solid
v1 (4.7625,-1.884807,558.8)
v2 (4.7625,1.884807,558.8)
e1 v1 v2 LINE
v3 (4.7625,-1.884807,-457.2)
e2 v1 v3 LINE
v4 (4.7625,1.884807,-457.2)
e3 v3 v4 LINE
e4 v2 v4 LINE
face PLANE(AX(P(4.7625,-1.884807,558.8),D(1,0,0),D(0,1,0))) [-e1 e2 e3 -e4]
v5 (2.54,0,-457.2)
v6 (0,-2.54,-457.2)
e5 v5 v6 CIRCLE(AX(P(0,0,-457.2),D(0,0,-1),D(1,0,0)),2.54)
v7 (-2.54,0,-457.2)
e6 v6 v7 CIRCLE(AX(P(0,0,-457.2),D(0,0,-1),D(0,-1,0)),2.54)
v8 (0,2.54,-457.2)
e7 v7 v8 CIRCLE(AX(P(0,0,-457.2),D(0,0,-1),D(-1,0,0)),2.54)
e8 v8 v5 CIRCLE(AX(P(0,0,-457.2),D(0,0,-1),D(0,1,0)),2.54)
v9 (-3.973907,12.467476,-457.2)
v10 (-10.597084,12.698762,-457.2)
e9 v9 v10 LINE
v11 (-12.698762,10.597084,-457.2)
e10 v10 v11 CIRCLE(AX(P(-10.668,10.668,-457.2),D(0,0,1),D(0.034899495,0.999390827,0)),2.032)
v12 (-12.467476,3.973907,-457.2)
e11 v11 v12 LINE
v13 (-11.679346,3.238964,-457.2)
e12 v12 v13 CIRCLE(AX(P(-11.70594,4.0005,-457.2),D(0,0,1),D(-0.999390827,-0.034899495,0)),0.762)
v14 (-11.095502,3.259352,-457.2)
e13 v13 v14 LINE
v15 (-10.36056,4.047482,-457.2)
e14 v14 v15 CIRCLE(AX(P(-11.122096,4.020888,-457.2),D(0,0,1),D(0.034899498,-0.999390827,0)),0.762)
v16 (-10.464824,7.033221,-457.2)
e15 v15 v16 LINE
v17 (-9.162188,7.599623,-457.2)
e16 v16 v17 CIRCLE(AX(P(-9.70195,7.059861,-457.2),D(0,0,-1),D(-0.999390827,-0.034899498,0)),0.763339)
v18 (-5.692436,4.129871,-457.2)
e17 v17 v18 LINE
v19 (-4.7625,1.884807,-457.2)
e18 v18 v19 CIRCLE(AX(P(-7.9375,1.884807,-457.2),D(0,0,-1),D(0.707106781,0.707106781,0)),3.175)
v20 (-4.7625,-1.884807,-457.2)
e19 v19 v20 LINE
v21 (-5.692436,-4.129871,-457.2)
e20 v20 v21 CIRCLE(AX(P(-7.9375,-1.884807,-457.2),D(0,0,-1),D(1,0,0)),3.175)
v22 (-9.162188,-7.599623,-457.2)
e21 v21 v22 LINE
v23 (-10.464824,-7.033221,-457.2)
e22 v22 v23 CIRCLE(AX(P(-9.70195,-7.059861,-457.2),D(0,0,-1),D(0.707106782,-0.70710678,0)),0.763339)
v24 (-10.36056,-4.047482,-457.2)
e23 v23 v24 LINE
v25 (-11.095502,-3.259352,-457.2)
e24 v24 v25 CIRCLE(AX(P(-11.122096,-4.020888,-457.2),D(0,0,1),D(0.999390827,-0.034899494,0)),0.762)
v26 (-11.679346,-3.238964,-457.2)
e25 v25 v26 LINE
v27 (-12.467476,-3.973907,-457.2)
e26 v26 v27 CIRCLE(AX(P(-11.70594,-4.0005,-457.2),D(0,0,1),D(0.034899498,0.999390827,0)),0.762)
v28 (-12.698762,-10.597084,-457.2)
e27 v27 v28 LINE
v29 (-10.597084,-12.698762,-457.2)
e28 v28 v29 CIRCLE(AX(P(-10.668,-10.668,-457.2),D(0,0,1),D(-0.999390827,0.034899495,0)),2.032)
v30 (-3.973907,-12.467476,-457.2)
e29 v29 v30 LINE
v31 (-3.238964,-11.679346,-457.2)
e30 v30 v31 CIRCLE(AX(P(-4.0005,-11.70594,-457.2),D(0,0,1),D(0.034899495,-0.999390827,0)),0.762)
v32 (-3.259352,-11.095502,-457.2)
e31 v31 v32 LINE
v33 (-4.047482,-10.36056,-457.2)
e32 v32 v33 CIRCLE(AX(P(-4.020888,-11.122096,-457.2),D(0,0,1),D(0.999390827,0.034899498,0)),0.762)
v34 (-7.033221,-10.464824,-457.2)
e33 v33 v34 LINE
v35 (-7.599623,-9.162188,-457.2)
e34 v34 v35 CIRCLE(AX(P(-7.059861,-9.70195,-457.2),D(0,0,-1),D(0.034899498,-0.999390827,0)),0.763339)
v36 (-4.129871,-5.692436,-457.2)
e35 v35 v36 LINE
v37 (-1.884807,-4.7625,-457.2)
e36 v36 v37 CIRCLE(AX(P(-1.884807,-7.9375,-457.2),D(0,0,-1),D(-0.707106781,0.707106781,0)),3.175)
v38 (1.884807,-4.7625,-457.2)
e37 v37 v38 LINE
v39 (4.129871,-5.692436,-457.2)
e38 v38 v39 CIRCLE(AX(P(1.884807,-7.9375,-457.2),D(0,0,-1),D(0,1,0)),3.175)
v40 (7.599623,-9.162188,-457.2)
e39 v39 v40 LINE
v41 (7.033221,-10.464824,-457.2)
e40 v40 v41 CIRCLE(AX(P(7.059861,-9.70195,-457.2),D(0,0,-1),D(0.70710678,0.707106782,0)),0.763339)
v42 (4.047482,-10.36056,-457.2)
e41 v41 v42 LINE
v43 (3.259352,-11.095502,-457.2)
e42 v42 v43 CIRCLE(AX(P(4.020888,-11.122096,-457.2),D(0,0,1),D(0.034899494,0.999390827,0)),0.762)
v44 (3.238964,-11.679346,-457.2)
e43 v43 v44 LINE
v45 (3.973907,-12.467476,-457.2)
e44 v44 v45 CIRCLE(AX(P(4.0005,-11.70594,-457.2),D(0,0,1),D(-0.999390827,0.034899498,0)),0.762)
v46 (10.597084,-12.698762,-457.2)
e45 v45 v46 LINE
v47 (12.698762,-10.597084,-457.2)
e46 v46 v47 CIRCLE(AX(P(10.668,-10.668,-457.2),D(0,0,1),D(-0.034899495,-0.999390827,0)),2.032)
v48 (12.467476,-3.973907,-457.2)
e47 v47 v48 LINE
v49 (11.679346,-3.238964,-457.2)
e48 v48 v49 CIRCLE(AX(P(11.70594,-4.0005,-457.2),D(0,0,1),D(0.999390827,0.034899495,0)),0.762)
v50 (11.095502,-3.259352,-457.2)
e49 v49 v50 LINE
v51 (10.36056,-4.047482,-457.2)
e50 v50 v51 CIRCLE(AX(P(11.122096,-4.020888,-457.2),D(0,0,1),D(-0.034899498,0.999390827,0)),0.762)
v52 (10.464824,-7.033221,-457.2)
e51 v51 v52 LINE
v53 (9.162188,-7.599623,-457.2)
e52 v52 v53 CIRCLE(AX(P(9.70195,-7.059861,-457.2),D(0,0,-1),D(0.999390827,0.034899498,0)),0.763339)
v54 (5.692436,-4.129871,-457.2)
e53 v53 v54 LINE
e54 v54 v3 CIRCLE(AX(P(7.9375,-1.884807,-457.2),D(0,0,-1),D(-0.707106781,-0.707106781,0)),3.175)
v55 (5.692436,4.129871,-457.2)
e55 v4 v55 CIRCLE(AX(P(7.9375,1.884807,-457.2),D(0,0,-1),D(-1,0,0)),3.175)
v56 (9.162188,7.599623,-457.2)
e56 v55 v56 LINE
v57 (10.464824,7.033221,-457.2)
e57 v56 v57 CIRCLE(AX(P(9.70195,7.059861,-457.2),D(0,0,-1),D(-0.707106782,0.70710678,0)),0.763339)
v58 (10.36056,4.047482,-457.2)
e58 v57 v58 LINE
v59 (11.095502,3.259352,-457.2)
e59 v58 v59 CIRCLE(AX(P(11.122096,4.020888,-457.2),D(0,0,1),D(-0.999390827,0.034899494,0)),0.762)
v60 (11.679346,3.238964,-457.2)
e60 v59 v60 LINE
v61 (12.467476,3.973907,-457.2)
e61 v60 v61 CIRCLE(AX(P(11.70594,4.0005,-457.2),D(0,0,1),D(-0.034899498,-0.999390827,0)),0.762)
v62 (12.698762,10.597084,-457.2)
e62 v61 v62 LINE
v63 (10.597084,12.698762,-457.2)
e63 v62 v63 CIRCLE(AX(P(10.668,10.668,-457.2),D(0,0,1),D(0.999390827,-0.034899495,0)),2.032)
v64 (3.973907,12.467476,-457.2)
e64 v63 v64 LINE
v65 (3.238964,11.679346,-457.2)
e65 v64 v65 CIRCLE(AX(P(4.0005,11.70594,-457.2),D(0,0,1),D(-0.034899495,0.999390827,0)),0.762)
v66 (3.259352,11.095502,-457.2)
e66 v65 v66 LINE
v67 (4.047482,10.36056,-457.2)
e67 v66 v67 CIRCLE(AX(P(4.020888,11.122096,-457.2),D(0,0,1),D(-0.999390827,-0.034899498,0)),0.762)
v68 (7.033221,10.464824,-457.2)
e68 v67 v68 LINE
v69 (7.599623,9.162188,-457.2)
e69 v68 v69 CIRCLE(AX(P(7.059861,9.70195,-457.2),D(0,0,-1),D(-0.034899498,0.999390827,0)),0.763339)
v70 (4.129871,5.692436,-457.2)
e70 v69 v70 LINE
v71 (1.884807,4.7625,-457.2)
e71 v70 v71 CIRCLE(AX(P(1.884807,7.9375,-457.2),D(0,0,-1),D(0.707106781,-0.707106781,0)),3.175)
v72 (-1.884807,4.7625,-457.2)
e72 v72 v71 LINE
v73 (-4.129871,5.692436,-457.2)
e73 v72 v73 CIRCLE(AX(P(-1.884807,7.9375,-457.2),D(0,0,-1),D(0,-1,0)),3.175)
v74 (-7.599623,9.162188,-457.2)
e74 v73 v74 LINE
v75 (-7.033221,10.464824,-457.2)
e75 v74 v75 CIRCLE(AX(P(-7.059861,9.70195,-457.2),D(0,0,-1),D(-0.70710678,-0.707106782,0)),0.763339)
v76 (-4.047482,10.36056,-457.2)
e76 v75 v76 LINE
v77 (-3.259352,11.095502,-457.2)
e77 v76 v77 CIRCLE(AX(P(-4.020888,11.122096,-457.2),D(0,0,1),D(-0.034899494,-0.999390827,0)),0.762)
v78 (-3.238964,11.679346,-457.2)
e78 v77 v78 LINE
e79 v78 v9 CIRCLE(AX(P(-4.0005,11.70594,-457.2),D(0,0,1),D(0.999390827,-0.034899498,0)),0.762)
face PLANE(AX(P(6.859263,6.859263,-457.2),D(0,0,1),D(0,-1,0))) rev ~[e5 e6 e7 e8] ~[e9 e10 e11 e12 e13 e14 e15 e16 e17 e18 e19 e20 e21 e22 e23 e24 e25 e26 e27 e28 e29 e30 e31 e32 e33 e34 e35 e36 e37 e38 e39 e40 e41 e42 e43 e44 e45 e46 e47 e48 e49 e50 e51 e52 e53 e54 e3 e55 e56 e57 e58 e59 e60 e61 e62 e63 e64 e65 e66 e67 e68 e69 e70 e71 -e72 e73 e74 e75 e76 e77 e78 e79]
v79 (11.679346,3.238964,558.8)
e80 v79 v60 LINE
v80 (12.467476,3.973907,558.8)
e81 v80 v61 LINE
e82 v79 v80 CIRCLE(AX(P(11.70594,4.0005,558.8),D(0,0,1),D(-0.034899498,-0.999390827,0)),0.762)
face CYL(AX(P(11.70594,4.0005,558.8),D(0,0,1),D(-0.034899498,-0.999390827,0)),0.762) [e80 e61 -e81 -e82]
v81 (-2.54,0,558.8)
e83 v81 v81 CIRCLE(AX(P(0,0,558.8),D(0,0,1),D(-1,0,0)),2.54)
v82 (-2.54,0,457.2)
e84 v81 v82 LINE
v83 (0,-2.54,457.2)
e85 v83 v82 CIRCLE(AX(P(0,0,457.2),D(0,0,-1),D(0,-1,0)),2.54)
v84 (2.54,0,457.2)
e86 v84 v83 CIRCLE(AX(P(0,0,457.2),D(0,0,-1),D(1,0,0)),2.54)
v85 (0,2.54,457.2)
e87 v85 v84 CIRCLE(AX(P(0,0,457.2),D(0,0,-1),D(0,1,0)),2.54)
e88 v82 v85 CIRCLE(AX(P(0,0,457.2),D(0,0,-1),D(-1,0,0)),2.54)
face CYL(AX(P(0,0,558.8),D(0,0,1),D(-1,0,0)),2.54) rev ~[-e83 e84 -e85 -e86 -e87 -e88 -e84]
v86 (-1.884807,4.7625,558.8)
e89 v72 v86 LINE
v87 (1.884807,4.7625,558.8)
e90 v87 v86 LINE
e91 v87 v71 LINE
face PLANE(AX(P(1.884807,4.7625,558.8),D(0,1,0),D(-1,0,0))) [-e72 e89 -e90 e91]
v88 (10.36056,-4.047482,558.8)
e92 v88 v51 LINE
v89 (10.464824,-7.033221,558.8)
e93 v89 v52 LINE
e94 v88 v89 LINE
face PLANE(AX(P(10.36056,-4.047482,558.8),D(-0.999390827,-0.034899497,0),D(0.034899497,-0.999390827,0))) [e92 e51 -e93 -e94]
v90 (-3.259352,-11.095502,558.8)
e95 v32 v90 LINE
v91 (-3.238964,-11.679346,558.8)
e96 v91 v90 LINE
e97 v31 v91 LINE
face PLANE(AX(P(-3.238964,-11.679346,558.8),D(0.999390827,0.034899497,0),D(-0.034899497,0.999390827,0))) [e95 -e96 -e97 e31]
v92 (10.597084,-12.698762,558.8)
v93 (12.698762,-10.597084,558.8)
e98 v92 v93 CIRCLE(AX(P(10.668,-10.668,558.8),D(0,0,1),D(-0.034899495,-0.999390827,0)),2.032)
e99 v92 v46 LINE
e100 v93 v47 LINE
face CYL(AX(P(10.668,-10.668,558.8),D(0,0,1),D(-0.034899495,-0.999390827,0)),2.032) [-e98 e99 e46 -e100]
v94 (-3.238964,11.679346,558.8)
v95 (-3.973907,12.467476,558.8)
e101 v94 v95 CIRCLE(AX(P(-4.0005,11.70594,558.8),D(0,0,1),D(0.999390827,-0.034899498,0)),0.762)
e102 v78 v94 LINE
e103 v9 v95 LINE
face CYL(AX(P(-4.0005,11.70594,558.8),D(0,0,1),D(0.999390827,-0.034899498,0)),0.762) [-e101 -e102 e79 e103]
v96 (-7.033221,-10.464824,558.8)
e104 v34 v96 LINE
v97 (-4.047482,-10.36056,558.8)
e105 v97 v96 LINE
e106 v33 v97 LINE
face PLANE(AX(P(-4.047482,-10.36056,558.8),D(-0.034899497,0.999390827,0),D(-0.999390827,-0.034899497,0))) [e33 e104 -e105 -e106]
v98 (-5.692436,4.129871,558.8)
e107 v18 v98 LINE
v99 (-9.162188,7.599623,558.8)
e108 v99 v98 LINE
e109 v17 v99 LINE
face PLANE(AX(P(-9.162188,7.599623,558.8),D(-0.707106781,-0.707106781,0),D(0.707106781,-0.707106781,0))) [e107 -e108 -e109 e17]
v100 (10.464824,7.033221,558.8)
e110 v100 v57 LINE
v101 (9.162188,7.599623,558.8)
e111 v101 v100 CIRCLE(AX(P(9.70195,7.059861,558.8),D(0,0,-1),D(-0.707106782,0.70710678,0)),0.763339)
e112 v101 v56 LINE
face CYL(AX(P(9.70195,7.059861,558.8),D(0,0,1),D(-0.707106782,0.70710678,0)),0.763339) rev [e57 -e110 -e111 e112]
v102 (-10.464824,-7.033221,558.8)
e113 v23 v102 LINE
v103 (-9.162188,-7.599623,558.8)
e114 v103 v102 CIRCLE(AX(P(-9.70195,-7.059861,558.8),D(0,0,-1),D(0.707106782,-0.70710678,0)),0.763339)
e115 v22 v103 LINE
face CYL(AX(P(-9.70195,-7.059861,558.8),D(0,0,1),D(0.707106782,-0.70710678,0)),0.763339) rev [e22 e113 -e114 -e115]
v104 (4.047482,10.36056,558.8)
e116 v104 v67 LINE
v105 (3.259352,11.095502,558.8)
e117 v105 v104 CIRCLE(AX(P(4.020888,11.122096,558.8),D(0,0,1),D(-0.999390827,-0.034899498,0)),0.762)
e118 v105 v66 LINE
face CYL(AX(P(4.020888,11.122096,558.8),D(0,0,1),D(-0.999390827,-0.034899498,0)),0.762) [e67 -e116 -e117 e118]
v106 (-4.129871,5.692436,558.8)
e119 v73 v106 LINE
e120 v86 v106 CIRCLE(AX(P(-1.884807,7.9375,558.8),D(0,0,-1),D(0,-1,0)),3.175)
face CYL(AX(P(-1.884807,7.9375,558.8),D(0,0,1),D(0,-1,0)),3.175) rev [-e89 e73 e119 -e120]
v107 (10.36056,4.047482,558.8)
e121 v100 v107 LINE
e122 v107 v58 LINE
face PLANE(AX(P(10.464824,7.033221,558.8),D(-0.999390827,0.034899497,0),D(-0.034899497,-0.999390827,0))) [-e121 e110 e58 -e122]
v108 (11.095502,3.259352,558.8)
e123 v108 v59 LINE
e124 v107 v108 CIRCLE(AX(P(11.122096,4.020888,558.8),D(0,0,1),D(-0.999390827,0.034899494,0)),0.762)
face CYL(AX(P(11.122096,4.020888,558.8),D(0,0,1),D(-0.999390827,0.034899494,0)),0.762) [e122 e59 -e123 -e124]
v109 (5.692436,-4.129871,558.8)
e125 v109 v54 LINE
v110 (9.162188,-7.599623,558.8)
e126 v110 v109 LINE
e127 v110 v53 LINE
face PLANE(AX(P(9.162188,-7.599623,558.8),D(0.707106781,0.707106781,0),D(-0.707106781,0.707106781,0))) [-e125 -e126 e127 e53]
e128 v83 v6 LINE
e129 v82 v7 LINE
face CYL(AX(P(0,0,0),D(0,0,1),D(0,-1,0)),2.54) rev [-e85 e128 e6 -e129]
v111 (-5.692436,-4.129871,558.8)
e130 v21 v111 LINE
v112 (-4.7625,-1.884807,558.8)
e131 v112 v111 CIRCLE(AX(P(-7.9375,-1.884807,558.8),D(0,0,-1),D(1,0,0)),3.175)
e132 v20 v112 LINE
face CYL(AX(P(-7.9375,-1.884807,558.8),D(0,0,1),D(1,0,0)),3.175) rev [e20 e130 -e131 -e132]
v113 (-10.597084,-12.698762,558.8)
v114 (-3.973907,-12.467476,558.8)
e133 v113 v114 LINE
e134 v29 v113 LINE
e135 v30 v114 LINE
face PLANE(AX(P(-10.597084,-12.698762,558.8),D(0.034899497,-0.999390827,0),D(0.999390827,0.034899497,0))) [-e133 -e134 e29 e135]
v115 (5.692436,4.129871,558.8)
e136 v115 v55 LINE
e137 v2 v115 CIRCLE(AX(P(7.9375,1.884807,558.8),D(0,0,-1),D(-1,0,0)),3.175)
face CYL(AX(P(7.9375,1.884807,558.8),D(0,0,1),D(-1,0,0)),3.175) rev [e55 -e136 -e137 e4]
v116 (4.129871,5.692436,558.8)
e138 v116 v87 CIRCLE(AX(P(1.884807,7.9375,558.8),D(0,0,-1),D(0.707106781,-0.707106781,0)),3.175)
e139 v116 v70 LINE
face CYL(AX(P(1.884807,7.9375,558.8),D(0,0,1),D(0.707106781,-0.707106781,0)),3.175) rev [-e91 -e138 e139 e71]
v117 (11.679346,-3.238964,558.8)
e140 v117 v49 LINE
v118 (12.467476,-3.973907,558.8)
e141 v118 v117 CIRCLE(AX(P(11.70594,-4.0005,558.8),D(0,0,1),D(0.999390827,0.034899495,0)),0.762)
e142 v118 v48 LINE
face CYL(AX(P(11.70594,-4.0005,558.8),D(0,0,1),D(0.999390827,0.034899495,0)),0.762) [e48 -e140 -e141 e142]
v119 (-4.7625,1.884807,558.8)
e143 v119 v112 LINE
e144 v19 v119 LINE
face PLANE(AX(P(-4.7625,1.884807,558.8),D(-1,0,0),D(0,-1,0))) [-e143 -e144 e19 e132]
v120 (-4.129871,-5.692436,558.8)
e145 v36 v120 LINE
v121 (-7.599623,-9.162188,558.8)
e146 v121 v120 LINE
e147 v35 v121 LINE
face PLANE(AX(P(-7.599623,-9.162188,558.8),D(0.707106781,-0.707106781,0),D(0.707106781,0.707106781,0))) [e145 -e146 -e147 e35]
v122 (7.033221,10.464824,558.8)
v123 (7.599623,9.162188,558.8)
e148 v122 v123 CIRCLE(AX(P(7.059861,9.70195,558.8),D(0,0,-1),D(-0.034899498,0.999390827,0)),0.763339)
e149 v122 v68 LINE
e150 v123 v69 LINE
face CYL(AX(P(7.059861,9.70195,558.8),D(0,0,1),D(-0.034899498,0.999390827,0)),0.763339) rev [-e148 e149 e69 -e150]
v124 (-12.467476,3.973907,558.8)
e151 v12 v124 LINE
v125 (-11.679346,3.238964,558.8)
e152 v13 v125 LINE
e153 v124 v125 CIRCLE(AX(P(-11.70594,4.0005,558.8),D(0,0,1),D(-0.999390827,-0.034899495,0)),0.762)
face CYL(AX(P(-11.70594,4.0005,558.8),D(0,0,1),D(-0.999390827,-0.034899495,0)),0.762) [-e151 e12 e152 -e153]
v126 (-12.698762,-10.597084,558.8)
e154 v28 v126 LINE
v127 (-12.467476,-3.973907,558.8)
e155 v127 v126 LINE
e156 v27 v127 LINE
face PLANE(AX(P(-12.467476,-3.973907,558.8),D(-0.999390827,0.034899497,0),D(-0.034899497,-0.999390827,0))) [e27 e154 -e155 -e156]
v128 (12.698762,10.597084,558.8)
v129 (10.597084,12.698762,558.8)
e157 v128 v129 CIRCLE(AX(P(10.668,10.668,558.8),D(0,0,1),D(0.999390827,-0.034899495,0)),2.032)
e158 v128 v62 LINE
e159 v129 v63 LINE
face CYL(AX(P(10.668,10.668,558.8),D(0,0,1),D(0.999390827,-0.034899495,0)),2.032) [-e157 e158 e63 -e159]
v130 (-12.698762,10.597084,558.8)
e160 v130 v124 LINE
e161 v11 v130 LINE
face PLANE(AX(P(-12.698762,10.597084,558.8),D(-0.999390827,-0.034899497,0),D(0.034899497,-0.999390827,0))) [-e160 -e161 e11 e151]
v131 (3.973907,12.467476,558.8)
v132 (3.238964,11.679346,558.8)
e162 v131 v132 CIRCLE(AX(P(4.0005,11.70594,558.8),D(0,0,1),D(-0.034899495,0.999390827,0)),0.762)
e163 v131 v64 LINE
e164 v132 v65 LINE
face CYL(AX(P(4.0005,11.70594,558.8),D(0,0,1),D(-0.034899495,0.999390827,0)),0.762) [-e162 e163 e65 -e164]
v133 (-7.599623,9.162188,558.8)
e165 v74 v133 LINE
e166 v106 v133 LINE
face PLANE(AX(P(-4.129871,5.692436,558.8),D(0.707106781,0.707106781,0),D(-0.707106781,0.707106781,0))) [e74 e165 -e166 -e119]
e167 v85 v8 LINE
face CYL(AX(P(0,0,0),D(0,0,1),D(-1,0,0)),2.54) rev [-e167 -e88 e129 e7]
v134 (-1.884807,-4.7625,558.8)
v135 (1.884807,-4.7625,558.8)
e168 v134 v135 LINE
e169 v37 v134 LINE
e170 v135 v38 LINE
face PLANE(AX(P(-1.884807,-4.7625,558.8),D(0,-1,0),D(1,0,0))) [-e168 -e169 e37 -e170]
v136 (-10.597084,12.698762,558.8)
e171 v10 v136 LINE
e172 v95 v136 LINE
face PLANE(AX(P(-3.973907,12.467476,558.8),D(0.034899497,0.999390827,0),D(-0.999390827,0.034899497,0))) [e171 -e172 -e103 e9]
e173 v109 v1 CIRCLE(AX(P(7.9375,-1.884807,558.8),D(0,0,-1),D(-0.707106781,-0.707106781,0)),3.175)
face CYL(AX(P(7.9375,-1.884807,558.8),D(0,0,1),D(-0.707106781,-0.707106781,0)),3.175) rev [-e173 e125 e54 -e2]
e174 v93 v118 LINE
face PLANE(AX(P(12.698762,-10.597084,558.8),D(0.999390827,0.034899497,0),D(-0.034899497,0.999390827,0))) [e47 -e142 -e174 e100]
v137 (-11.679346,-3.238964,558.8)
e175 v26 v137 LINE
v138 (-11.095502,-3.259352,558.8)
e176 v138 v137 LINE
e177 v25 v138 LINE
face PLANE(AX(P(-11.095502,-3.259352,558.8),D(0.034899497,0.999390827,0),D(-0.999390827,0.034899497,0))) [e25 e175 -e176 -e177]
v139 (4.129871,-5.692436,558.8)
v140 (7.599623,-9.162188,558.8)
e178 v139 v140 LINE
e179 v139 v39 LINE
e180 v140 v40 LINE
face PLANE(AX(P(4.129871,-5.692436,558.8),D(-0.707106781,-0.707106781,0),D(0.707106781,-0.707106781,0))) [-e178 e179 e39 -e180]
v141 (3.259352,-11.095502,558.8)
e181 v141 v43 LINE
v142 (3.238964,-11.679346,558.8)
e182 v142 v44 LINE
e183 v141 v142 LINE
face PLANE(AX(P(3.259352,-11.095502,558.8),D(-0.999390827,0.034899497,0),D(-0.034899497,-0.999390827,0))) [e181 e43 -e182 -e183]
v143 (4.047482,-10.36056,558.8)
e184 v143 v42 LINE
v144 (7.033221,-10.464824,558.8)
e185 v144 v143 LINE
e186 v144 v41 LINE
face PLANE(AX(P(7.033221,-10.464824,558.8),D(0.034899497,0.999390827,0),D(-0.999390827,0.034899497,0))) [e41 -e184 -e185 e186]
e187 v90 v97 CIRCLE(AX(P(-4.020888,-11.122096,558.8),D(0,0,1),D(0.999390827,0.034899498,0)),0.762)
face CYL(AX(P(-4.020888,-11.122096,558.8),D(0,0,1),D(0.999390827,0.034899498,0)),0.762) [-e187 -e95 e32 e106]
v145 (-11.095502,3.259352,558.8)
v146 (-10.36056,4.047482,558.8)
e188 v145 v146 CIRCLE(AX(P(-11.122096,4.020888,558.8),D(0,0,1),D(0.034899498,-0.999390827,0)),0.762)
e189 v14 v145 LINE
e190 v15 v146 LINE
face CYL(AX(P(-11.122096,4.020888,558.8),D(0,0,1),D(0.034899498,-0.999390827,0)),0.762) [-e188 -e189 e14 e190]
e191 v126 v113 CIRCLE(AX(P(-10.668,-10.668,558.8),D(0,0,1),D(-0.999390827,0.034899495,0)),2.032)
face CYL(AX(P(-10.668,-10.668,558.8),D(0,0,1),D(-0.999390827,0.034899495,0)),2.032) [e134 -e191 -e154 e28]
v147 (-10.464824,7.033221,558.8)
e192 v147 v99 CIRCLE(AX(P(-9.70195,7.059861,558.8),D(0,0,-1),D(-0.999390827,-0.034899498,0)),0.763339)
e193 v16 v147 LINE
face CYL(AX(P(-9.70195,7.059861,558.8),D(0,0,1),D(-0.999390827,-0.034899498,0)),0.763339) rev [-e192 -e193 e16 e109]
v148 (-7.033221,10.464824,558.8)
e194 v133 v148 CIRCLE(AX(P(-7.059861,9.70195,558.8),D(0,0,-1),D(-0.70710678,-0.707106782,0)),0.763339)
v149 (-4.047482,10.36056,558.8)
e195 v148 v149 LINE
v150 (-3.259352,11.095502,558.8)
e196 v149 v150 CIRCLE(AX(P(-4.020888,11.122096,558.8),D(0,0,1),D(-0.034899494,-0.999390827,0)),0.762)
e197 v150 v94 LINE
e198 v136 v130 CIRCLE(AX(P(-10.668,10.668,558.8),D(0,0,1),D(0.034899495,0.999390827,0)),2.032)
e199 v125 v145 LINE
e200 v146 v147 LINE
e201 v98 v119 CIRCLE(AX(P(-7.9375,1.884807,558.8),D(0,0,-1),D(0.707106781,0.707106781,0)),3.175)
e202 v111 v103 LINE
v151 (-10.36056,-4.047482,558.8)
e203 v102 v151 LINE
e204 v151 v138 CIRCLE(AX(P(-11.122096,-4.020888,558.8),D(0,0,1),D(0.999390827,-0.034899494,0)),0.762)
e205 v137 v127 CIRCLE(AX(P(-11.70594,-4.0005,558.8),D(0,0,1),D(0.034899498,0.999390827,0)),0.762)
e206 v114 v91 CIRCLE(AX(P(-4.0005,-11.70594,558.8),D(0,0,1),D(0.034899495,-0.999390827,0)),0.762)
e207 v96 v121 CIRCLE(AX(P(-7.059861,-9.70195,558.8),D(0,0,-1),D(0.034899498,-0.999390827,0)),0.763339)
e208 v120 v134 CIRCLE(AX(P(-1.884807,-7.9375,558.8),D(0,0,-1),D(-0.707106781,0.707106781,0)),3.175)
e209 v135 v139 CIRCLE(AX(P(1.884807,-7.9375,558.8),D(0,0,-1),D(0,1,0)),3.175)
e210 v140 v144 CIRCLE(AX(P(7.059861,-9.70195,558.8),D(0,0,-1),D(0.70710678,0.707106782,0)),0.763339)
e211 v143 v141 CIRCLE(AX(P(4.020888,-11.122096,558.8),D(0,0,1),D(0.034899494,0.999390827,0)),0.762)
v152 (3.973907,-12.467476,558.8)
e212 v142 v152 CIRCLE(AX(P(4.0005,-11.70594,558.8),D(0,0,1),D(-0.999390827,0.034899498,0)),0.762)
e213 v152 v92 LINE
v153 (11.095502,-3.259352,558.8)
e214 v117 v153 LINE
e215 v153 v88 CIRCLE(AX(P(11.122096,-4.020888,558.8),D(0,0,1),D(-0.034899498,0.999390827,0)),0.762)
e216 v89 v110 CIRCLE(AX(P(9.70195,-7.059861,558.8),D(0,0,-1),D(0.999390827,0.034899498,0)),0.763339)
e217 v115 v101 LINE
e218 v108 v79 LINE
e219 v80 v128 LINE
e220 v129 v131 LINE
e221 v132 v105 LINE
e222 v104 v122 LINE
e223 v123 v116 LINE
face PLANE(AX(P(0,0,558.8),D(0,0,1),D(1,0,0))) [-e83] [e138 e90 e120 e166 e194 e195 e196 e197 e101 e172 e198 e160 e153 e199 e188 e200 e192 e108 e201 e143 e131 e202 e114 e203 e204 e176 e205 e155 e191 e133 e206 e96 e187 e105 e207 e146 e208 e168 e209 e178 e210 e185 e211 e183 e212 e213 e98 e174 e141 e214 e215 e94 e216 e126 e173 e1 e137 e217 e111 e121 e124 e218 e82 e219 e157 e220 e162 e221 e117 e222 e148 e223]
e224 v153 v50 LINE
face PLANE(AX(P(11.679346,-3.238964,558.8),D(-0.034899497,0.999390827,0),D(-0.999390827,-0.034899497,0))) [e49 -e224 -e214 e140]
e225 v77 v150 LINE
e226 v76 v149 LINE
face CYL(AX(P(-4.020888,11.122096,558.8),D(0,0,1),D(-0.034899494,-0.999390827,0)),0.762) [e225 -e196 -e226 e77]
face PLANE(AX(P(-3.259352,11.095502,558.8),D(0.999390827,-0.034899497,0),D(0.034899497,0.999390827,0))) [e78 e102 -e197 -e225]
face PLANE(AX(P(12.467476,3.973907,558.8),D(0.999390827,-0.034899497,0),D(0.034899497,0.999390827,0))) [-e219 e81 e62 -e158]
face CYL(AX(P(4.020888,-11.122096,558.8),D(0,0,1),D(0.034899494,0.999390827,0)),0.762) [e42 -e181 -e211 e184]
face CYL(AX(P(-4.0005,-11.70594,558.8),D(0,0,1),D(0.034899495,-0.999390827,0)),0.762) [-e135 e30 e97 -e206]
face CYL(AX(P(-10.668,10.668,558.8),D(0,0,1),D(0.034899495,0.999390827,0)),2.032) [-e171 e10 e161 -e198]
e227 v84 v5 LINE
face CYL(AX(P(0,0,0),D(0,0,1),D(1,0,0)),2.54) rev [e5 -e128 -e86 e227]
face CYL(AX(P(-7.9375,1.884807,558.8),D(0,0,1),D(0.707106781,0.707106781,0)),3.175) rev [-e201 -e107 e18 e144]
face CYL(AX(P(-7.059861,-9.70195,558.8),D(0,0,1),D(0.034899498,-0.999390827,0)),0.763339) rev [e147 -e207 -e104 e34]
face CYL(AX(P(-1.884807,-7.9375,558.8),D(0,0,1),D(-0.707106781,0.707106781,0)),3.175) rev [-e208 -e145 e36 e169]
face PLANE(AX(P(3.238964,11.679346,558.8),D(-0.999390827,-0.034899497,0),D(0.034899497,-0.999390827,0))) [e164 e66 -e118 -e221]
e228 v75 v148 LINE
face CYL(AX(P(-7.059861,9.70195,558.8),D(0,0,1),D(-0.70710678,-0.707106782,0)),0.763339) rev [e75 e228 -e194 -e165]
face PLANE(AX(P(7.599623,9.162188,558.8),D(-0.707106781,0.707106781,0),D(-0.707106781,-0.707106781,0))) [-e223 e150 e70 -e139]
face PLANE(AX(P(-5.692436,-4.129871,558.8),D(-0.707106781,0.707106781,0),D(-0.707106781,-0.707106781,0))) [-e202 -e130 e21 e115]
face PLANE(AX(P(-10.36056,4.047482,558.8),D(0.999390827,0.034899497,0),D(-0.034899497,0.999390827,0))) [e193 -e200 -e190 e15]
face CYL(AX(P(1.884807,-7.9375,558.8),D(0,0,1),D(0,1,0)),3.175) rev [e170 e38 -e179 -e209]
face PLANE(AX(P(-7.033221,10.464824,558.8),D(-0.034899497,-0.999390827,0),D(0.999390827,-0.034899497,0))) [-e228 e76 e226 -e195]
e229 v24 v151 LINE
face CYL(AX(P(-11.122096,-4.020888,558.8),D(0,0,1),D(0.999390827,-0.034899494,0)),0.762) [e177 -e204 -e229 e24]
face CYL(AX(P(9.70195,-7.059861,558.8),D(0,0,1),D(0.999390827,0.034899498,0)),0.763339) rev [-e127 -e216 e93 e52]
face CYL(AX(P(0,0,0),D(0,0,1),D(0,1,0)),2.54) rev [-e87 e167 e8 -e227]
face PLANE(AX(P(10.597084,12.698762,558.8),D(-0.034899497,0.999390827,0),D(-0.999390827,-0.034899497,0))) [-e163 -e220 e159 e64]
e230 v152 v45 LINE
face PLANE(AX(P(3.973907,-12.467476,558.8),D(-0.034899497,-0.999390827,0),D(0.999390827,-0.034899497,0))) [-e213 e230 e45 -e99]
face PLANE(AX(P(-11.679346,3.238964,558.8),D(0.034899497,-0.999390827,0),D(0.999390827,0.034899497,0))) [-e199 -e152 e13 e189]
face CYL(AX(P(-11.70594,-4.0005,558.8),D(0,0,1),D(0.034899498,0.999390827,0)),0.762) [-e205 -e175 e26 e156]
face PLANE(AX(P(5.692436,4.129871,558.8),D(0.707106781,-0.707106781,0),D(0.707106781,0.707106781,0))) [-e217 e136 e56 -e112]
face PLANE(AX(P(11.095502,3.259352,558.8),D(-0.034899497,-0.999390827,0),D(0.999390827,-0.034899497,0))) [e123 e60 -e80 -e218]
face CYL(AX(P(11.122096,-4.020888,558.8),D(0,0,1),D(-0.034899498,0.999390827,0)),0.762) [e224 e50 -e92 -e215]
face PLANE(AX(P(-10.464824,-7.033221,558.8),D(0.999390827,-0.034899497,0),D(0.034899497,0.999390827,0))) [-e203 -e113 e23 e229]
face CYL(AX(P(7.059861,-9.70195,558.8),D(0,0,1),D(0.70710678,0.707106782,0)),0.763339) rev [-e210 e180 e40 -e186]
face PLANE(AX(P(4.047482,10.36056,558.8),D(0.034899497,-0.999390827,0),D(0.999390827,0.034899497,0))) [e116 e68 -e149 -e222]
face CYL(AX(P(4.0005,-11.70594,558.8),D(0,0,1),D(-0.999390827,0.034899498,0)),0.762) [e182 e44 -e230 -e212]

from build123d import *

# Parameters (mm, degrees)
BOSS_EXTRUDE1_DEPTH = 457.2
CIRPATTERN1_COUNT   = 4
BOSS_EXTRUDE2_START = 101.6
SKETCH4_R           = 2.54
BOSS_EXTRUDE2_DEPTH = 101.6


with BuildPart() as part:
    # Sketch3 → Boss-Extrude1 (new, symmetric)
    with BuildSketch(Plane.XY):
        with BuildLine():
            Line((0, 4.7625), (-1.884807374, 4.7625))
            ThreePointArc((-1.884807374, 4.7625), (-3.099827272, 5.004182484), (-4.129871405, 5.69243597))
            Line((-4.129871405, 5.69243597), (-7.599623114, 9.162187679))
            ThreePointArc((-7.599623114, 9.162187679), (-7.759888701, 10.006330839), (-7.033220609, 10.464824259))
            Line((-7.033220609, 10.464824259), (-4.047481702, 10.360559959))
            ThreePointArc((-4.047481702, 10.360559959), (-3.501205536, 10.564804249), (-3.259352476, 11.095502353))
            Line((-3.259352476, 11.095502353), (-3.23896419, 11.679346474))
            ThreePointArc((-3.23896419, 11.679346474), (-3.443208479, 12.225622641), (-3.973906584, 12.467475701))
            Line((-3.973906584, 12.467475701), (-10.597084223, 12.698762161))
            ThreePointArc((-10.597084223, 12.698762161), (-12.104840979, 12.104840979), (-12.698762161, 10.597084223))
            Line((-12.698762161, 10.597084223), (-12.467475701, 3.973906584))
            ThreePointArc((-12.467475701, 3.973906584), (-12.225622641, 3.443208479), (-11.679346474, 3.23896419))
            Line((-11.679346474, 3.23896419), (-11.095502353, 3.259352476))
            ThreePointArc((-11.095502353, 3.259352476), (-10.564804249, 3.501205536), (-10.360559959, 4.047481702))
            Line((-10.360559959, 4.047481702), (-10.464824259, 7.033220609))
            ThreePointArc((-10.464824259, 7.033220609), (-10.006330839, 7.759888701), (-9.162187679, 7.599623114))
            Line((-9.162187679, 7.599623114), (-5.69243597, 4.129871405))
            ThreePointArc((-5.69243597, 4.129871405), (-5.004182484, 3.099827272), (-4.7625, 1.884807374))
            Line((-4.7625, 1.884807374), (-4.7625, 0))
            Line((-4.7625, 0), (-2.54, 0))
            ThreePointArc((-2.54, 0), (-1.796051224, 1.796051224), (0, 2.54))
            Line((0, 2.54), (0, 4.7625))
        make_face()
    boss_extrude1 = extrude(amount=BOSS_EXTRUDE1_DEPTH, both=True)

    # CirPattern1: Boss-Extrude1 ×4 about axis
    cirpattern1_axis = Axis((0, 0, 0), (0, 0, 1))
    for i in range(1, CIRPATTERN1_COUNT):
        add(boss_extrude1.rotate(cirpattern1_axis, i * 360 / CIRPATTERN1_COUNT))

    # Sketch4 → Boss-Extrude2 (add)
    with BuildSketch(Plane.XY.offset(457.2).offset(BOSS_EXTRUDE2_START)):
        with BuildLine():
            Line((1.884807374, 4.7625), (-1.884807374, 4.7625))
            ThreePointArc((-1.884807374, 4.7625), (-3.099827272, 5.004182484), (-4.129871405, 5.69243597))
            Line((-4.129871405, 5.69243597), (-7.599623114, 9.162187679))
            ThreePointArc((-7.599623114, 9.162187679), (-7.759888701, 10.006330839), (-7.033220609, 10.464824259))
            Line((-7.033220609, 10.464824259), (-4.047481702, 10.360559959))
            ThreePointArc((-4.047481702, 10.360559959), (-3.501205536, 10.564804249), (-3.259352476, 11.095502353))
            Line((-3.259352476, 11.095502353), (-3.23896419, 11.679346474))
            ThreePointArc((-3.23896419, 11.679346474), (-3.443208479, 12.225622641), (-3.973906584, 12.467475701))
            Line((-3.973906584, 12.467475701), (-10.597084223, 12.698762161))
            ThreePointArc((-10.597084223, 12.698762161), (-12.104840979, 12.104840979), (-12.698762161, 10.597084223))
            Line((-12.698762161, 10.597084223), (-12.467475701, 3.973906584))
            ThreePointArc((-12.467475701, 3.973906584), (-12.225622641, 3.443208479), (-11.679346474, 3.23896419))
            Line((-11.679346474, 3.23896419), (-11.095502353, 3.259352476))
            ThreePointArc((-11.095502353, 3.259352476), (-10.564804249, 3.501205536), (-10.360559959, 4.047481702))
            Line((-10.360559959, 4.047481702), (-10.464824259, 7.033220609))
            ThreePointArc((-10.464824259, 7.033220609), (-10.006330839, 7.759888701), (-9.162187679, 7.599623114))
            Line((-9.162187679, 7.599623114), (-5.69243597, 4.129871405))
            ThreePointArc((-5.69243597, 4.129871405), (-5.004182484, 3.099827272), (-4.7625, 1.884807374))
            Line((-4.7625, 1.884807374), (-4.7625, -1.884807374))
            ThreePointArc((-4.7625, -1.884807374), (-5.004182484, -3.099827272), (-5.69243597, -4.129871405))
            Line((-5.69243597, -4.129871405), (-9.162187679, -7.599623114))
            ThreePointArc((-9.162187679, -7.599623114), (-10.006330839, -7.759888701), (-10.464824259, -7.033220609))
            Line((-10.464824259, -7.033220609), (-10.360559959, -4.047481702))
            ThreePointArc((-10.360559959, -4.047481702), (-10.564804249, -3.501205536), (-11.095502353, -3.259352476))
            Line((-11.095502353, -3.259352476), (-11.679346474, -3.23896419))
            ThreePointArc((-11.679346474, -3.23896419), (-12.225622641, -3.443208479), (-12.467475701, -3.973906584))
            Line((-12.467475701, -3.973906584), (-12.698762161, -10.597084223))
            ThreePointArc((-12.698762161, -10.597084223), (-12.104840979, -12.104840979), (-10.597084223, -12.698762161))
            Line((-10.597084223, -12.698762161), (-3.973906584, -12.467475701))
            ThreePointArc((-3.973906584, -12.467475701), (-3.443208479, -12.225622641), (-3.23896419, -11.679346474))
            Line((-3.23896419, -11.679346474), (-3.259352476, -11.095502353))
            ThreePointArc((-3.259352476, -11.095502353), (-3.501205536, -10.564804249), (-4.047481702, -10.360559959))
            Line((-4.047481702, -10.360559959), (-7.033220609, -10.464824259))
            ThreePointArc((-7.033220609, -10.464824259), (-7.759888701, -10.006330839), (-7.599623114, -9.162187679))
            Line((-7.599623114, -9.162187679), (-4.129871405, -5.69243597))
            ThreePointArc((-4.129871405, -5.69243597), (-3.099827272, -5.004182484), (-1.884807374, -4.7625))
            Line((-1.884807374, -4.7625), (1.884807374, -4.7625))
            ThreePointArc((1.884807374, -4.7625), (3.099827272, -5.004182484), (4.129871405, -5.69243597))
            Line((4.129871405, -5.69243597), (7.599623114, -9.162187679))
            ThreePointArc((7.599623114, -9.162187679), (7.759888701, -10.006330839), (7.033220609, -10.464824259))
            Line((7.033220609, -10.464824259), (4.047481702, -10.360559959))
            ThreePointArc((4.047481702, -10.360559959), (3.501205536, -10.564804249), (3.259352476, -11.095502353))
            Line((3.259352476, -11.095502353), (3.23896419, -11.679346474))
            ThreePointArc((3.23896419, -11.679346474), (3.443208479, -12.225622641), (3.973906584, -12.467475701))
            Line((3.973906584, -12.467475701), (10.597084223, -12.698762161))
            ThreePointArc((10.597084223, -12.698762161), (12.104840979, -12.104840979), (12.698762161, -10.597084223))
            Line((12.698762161, -10.597084223), (12.467475701, -3.973906584))
            ThreePointArc((12.467475701, -3.973906584), (12.225622641, -3.443208479), (11.679346474, -3.23896419))
            Line((11.679346474, -3.23896419), (11.095502353, -3.259352476))
            ThreePointArc((11.095502353, -3.259352476), (10.564804249, -3.501205536), (10.360559959, -4.047481702))
            Line((10.360559959, -4.047481702), (10.464824259, -7.033220609))
            ThreePointArc((10.464824259, -7.033220609), (10.006330839, -7.759888701), (9.162187679, -7.599623114))
            Line((9.162187679, -7.599623114), (5.69243597, -4.129871405))
            ThreePointArc((5.69243597, -4.129871405), (5.004182484, -3.099827272), (4.7625, -1.884807374))
            Line((4.7625, -1.884807374), (4.7625, 1.884807374))
            ThreePointArc((4.7625, 1.884807374), (5.004182484, 3.099827272), (5.69243597, 4.129871405))
            Line((5.69243597, 4.129871405), (9.162187679, 7.599623114))
            ThreePointArc((9.162187679, 7.599623114), (10.006330839, 7.759888701), (10.464824259, 7.033220609))
            Line((10.464824259, 7.033220609), (10.360559959, 4.047481702))
            ThreePointArc((10.360559959, 4.047481702), (10.564804249, 3.501205536), (11.095502353, 3.259352476))
            Line((11.095502353, 3.259352476), (11.679346474, 3.23896419))
            ThreePointArc((11.679346474, 3.23896419), (12.225622641, 3.443208479), (12.467475701, 3.973906584))
            Line((12.467475701, 3.973906584), (12.698762161, 10.597084223))
            ThreePointArc((12.698762161, 10.597084223), (12.104840979, 12.104840979), (10.597084223, 12.698762161))
            Line((10.597084223, 12.698762161), (3.973906584, 12.467475701))
            ThreePointArc((3.973906584, 12.467475701), (3.443208479, 12.225622641), (3.23896419, 11.679346474))
            Line((3.23896419, 11.679346474), (3.259352476, 11.095502353))
            ThreePointArc((3.259352476, 11.095502353), (3.501205536, 10.564804249), (4.047481702, 10.360559959))
            Line((4.047481702, 10.360559959), (7.033220609, 10.464824259))
            ThreePointArc((7.033220609, 10.464824259), (7.759888701, 10.006330839), (7.599623114, 9.162187679))
            Line((7.599623114, 9.162187679), (4.129871405, 5.69243597))
            ThreePointArc((4.129871405, 5.69243597), (3.099827272, 5.004182484), (1.884807374, 4.7625))
        make_face()
        with Locations(Location((0, 0, 0), (0, 0, 180))):
            Circle(SKETCH4_R, mode=Mode.SUBTRACT)
    extrude(amount=-BOSS_EXTRUDE2_DEPTH)


solid = part.part
